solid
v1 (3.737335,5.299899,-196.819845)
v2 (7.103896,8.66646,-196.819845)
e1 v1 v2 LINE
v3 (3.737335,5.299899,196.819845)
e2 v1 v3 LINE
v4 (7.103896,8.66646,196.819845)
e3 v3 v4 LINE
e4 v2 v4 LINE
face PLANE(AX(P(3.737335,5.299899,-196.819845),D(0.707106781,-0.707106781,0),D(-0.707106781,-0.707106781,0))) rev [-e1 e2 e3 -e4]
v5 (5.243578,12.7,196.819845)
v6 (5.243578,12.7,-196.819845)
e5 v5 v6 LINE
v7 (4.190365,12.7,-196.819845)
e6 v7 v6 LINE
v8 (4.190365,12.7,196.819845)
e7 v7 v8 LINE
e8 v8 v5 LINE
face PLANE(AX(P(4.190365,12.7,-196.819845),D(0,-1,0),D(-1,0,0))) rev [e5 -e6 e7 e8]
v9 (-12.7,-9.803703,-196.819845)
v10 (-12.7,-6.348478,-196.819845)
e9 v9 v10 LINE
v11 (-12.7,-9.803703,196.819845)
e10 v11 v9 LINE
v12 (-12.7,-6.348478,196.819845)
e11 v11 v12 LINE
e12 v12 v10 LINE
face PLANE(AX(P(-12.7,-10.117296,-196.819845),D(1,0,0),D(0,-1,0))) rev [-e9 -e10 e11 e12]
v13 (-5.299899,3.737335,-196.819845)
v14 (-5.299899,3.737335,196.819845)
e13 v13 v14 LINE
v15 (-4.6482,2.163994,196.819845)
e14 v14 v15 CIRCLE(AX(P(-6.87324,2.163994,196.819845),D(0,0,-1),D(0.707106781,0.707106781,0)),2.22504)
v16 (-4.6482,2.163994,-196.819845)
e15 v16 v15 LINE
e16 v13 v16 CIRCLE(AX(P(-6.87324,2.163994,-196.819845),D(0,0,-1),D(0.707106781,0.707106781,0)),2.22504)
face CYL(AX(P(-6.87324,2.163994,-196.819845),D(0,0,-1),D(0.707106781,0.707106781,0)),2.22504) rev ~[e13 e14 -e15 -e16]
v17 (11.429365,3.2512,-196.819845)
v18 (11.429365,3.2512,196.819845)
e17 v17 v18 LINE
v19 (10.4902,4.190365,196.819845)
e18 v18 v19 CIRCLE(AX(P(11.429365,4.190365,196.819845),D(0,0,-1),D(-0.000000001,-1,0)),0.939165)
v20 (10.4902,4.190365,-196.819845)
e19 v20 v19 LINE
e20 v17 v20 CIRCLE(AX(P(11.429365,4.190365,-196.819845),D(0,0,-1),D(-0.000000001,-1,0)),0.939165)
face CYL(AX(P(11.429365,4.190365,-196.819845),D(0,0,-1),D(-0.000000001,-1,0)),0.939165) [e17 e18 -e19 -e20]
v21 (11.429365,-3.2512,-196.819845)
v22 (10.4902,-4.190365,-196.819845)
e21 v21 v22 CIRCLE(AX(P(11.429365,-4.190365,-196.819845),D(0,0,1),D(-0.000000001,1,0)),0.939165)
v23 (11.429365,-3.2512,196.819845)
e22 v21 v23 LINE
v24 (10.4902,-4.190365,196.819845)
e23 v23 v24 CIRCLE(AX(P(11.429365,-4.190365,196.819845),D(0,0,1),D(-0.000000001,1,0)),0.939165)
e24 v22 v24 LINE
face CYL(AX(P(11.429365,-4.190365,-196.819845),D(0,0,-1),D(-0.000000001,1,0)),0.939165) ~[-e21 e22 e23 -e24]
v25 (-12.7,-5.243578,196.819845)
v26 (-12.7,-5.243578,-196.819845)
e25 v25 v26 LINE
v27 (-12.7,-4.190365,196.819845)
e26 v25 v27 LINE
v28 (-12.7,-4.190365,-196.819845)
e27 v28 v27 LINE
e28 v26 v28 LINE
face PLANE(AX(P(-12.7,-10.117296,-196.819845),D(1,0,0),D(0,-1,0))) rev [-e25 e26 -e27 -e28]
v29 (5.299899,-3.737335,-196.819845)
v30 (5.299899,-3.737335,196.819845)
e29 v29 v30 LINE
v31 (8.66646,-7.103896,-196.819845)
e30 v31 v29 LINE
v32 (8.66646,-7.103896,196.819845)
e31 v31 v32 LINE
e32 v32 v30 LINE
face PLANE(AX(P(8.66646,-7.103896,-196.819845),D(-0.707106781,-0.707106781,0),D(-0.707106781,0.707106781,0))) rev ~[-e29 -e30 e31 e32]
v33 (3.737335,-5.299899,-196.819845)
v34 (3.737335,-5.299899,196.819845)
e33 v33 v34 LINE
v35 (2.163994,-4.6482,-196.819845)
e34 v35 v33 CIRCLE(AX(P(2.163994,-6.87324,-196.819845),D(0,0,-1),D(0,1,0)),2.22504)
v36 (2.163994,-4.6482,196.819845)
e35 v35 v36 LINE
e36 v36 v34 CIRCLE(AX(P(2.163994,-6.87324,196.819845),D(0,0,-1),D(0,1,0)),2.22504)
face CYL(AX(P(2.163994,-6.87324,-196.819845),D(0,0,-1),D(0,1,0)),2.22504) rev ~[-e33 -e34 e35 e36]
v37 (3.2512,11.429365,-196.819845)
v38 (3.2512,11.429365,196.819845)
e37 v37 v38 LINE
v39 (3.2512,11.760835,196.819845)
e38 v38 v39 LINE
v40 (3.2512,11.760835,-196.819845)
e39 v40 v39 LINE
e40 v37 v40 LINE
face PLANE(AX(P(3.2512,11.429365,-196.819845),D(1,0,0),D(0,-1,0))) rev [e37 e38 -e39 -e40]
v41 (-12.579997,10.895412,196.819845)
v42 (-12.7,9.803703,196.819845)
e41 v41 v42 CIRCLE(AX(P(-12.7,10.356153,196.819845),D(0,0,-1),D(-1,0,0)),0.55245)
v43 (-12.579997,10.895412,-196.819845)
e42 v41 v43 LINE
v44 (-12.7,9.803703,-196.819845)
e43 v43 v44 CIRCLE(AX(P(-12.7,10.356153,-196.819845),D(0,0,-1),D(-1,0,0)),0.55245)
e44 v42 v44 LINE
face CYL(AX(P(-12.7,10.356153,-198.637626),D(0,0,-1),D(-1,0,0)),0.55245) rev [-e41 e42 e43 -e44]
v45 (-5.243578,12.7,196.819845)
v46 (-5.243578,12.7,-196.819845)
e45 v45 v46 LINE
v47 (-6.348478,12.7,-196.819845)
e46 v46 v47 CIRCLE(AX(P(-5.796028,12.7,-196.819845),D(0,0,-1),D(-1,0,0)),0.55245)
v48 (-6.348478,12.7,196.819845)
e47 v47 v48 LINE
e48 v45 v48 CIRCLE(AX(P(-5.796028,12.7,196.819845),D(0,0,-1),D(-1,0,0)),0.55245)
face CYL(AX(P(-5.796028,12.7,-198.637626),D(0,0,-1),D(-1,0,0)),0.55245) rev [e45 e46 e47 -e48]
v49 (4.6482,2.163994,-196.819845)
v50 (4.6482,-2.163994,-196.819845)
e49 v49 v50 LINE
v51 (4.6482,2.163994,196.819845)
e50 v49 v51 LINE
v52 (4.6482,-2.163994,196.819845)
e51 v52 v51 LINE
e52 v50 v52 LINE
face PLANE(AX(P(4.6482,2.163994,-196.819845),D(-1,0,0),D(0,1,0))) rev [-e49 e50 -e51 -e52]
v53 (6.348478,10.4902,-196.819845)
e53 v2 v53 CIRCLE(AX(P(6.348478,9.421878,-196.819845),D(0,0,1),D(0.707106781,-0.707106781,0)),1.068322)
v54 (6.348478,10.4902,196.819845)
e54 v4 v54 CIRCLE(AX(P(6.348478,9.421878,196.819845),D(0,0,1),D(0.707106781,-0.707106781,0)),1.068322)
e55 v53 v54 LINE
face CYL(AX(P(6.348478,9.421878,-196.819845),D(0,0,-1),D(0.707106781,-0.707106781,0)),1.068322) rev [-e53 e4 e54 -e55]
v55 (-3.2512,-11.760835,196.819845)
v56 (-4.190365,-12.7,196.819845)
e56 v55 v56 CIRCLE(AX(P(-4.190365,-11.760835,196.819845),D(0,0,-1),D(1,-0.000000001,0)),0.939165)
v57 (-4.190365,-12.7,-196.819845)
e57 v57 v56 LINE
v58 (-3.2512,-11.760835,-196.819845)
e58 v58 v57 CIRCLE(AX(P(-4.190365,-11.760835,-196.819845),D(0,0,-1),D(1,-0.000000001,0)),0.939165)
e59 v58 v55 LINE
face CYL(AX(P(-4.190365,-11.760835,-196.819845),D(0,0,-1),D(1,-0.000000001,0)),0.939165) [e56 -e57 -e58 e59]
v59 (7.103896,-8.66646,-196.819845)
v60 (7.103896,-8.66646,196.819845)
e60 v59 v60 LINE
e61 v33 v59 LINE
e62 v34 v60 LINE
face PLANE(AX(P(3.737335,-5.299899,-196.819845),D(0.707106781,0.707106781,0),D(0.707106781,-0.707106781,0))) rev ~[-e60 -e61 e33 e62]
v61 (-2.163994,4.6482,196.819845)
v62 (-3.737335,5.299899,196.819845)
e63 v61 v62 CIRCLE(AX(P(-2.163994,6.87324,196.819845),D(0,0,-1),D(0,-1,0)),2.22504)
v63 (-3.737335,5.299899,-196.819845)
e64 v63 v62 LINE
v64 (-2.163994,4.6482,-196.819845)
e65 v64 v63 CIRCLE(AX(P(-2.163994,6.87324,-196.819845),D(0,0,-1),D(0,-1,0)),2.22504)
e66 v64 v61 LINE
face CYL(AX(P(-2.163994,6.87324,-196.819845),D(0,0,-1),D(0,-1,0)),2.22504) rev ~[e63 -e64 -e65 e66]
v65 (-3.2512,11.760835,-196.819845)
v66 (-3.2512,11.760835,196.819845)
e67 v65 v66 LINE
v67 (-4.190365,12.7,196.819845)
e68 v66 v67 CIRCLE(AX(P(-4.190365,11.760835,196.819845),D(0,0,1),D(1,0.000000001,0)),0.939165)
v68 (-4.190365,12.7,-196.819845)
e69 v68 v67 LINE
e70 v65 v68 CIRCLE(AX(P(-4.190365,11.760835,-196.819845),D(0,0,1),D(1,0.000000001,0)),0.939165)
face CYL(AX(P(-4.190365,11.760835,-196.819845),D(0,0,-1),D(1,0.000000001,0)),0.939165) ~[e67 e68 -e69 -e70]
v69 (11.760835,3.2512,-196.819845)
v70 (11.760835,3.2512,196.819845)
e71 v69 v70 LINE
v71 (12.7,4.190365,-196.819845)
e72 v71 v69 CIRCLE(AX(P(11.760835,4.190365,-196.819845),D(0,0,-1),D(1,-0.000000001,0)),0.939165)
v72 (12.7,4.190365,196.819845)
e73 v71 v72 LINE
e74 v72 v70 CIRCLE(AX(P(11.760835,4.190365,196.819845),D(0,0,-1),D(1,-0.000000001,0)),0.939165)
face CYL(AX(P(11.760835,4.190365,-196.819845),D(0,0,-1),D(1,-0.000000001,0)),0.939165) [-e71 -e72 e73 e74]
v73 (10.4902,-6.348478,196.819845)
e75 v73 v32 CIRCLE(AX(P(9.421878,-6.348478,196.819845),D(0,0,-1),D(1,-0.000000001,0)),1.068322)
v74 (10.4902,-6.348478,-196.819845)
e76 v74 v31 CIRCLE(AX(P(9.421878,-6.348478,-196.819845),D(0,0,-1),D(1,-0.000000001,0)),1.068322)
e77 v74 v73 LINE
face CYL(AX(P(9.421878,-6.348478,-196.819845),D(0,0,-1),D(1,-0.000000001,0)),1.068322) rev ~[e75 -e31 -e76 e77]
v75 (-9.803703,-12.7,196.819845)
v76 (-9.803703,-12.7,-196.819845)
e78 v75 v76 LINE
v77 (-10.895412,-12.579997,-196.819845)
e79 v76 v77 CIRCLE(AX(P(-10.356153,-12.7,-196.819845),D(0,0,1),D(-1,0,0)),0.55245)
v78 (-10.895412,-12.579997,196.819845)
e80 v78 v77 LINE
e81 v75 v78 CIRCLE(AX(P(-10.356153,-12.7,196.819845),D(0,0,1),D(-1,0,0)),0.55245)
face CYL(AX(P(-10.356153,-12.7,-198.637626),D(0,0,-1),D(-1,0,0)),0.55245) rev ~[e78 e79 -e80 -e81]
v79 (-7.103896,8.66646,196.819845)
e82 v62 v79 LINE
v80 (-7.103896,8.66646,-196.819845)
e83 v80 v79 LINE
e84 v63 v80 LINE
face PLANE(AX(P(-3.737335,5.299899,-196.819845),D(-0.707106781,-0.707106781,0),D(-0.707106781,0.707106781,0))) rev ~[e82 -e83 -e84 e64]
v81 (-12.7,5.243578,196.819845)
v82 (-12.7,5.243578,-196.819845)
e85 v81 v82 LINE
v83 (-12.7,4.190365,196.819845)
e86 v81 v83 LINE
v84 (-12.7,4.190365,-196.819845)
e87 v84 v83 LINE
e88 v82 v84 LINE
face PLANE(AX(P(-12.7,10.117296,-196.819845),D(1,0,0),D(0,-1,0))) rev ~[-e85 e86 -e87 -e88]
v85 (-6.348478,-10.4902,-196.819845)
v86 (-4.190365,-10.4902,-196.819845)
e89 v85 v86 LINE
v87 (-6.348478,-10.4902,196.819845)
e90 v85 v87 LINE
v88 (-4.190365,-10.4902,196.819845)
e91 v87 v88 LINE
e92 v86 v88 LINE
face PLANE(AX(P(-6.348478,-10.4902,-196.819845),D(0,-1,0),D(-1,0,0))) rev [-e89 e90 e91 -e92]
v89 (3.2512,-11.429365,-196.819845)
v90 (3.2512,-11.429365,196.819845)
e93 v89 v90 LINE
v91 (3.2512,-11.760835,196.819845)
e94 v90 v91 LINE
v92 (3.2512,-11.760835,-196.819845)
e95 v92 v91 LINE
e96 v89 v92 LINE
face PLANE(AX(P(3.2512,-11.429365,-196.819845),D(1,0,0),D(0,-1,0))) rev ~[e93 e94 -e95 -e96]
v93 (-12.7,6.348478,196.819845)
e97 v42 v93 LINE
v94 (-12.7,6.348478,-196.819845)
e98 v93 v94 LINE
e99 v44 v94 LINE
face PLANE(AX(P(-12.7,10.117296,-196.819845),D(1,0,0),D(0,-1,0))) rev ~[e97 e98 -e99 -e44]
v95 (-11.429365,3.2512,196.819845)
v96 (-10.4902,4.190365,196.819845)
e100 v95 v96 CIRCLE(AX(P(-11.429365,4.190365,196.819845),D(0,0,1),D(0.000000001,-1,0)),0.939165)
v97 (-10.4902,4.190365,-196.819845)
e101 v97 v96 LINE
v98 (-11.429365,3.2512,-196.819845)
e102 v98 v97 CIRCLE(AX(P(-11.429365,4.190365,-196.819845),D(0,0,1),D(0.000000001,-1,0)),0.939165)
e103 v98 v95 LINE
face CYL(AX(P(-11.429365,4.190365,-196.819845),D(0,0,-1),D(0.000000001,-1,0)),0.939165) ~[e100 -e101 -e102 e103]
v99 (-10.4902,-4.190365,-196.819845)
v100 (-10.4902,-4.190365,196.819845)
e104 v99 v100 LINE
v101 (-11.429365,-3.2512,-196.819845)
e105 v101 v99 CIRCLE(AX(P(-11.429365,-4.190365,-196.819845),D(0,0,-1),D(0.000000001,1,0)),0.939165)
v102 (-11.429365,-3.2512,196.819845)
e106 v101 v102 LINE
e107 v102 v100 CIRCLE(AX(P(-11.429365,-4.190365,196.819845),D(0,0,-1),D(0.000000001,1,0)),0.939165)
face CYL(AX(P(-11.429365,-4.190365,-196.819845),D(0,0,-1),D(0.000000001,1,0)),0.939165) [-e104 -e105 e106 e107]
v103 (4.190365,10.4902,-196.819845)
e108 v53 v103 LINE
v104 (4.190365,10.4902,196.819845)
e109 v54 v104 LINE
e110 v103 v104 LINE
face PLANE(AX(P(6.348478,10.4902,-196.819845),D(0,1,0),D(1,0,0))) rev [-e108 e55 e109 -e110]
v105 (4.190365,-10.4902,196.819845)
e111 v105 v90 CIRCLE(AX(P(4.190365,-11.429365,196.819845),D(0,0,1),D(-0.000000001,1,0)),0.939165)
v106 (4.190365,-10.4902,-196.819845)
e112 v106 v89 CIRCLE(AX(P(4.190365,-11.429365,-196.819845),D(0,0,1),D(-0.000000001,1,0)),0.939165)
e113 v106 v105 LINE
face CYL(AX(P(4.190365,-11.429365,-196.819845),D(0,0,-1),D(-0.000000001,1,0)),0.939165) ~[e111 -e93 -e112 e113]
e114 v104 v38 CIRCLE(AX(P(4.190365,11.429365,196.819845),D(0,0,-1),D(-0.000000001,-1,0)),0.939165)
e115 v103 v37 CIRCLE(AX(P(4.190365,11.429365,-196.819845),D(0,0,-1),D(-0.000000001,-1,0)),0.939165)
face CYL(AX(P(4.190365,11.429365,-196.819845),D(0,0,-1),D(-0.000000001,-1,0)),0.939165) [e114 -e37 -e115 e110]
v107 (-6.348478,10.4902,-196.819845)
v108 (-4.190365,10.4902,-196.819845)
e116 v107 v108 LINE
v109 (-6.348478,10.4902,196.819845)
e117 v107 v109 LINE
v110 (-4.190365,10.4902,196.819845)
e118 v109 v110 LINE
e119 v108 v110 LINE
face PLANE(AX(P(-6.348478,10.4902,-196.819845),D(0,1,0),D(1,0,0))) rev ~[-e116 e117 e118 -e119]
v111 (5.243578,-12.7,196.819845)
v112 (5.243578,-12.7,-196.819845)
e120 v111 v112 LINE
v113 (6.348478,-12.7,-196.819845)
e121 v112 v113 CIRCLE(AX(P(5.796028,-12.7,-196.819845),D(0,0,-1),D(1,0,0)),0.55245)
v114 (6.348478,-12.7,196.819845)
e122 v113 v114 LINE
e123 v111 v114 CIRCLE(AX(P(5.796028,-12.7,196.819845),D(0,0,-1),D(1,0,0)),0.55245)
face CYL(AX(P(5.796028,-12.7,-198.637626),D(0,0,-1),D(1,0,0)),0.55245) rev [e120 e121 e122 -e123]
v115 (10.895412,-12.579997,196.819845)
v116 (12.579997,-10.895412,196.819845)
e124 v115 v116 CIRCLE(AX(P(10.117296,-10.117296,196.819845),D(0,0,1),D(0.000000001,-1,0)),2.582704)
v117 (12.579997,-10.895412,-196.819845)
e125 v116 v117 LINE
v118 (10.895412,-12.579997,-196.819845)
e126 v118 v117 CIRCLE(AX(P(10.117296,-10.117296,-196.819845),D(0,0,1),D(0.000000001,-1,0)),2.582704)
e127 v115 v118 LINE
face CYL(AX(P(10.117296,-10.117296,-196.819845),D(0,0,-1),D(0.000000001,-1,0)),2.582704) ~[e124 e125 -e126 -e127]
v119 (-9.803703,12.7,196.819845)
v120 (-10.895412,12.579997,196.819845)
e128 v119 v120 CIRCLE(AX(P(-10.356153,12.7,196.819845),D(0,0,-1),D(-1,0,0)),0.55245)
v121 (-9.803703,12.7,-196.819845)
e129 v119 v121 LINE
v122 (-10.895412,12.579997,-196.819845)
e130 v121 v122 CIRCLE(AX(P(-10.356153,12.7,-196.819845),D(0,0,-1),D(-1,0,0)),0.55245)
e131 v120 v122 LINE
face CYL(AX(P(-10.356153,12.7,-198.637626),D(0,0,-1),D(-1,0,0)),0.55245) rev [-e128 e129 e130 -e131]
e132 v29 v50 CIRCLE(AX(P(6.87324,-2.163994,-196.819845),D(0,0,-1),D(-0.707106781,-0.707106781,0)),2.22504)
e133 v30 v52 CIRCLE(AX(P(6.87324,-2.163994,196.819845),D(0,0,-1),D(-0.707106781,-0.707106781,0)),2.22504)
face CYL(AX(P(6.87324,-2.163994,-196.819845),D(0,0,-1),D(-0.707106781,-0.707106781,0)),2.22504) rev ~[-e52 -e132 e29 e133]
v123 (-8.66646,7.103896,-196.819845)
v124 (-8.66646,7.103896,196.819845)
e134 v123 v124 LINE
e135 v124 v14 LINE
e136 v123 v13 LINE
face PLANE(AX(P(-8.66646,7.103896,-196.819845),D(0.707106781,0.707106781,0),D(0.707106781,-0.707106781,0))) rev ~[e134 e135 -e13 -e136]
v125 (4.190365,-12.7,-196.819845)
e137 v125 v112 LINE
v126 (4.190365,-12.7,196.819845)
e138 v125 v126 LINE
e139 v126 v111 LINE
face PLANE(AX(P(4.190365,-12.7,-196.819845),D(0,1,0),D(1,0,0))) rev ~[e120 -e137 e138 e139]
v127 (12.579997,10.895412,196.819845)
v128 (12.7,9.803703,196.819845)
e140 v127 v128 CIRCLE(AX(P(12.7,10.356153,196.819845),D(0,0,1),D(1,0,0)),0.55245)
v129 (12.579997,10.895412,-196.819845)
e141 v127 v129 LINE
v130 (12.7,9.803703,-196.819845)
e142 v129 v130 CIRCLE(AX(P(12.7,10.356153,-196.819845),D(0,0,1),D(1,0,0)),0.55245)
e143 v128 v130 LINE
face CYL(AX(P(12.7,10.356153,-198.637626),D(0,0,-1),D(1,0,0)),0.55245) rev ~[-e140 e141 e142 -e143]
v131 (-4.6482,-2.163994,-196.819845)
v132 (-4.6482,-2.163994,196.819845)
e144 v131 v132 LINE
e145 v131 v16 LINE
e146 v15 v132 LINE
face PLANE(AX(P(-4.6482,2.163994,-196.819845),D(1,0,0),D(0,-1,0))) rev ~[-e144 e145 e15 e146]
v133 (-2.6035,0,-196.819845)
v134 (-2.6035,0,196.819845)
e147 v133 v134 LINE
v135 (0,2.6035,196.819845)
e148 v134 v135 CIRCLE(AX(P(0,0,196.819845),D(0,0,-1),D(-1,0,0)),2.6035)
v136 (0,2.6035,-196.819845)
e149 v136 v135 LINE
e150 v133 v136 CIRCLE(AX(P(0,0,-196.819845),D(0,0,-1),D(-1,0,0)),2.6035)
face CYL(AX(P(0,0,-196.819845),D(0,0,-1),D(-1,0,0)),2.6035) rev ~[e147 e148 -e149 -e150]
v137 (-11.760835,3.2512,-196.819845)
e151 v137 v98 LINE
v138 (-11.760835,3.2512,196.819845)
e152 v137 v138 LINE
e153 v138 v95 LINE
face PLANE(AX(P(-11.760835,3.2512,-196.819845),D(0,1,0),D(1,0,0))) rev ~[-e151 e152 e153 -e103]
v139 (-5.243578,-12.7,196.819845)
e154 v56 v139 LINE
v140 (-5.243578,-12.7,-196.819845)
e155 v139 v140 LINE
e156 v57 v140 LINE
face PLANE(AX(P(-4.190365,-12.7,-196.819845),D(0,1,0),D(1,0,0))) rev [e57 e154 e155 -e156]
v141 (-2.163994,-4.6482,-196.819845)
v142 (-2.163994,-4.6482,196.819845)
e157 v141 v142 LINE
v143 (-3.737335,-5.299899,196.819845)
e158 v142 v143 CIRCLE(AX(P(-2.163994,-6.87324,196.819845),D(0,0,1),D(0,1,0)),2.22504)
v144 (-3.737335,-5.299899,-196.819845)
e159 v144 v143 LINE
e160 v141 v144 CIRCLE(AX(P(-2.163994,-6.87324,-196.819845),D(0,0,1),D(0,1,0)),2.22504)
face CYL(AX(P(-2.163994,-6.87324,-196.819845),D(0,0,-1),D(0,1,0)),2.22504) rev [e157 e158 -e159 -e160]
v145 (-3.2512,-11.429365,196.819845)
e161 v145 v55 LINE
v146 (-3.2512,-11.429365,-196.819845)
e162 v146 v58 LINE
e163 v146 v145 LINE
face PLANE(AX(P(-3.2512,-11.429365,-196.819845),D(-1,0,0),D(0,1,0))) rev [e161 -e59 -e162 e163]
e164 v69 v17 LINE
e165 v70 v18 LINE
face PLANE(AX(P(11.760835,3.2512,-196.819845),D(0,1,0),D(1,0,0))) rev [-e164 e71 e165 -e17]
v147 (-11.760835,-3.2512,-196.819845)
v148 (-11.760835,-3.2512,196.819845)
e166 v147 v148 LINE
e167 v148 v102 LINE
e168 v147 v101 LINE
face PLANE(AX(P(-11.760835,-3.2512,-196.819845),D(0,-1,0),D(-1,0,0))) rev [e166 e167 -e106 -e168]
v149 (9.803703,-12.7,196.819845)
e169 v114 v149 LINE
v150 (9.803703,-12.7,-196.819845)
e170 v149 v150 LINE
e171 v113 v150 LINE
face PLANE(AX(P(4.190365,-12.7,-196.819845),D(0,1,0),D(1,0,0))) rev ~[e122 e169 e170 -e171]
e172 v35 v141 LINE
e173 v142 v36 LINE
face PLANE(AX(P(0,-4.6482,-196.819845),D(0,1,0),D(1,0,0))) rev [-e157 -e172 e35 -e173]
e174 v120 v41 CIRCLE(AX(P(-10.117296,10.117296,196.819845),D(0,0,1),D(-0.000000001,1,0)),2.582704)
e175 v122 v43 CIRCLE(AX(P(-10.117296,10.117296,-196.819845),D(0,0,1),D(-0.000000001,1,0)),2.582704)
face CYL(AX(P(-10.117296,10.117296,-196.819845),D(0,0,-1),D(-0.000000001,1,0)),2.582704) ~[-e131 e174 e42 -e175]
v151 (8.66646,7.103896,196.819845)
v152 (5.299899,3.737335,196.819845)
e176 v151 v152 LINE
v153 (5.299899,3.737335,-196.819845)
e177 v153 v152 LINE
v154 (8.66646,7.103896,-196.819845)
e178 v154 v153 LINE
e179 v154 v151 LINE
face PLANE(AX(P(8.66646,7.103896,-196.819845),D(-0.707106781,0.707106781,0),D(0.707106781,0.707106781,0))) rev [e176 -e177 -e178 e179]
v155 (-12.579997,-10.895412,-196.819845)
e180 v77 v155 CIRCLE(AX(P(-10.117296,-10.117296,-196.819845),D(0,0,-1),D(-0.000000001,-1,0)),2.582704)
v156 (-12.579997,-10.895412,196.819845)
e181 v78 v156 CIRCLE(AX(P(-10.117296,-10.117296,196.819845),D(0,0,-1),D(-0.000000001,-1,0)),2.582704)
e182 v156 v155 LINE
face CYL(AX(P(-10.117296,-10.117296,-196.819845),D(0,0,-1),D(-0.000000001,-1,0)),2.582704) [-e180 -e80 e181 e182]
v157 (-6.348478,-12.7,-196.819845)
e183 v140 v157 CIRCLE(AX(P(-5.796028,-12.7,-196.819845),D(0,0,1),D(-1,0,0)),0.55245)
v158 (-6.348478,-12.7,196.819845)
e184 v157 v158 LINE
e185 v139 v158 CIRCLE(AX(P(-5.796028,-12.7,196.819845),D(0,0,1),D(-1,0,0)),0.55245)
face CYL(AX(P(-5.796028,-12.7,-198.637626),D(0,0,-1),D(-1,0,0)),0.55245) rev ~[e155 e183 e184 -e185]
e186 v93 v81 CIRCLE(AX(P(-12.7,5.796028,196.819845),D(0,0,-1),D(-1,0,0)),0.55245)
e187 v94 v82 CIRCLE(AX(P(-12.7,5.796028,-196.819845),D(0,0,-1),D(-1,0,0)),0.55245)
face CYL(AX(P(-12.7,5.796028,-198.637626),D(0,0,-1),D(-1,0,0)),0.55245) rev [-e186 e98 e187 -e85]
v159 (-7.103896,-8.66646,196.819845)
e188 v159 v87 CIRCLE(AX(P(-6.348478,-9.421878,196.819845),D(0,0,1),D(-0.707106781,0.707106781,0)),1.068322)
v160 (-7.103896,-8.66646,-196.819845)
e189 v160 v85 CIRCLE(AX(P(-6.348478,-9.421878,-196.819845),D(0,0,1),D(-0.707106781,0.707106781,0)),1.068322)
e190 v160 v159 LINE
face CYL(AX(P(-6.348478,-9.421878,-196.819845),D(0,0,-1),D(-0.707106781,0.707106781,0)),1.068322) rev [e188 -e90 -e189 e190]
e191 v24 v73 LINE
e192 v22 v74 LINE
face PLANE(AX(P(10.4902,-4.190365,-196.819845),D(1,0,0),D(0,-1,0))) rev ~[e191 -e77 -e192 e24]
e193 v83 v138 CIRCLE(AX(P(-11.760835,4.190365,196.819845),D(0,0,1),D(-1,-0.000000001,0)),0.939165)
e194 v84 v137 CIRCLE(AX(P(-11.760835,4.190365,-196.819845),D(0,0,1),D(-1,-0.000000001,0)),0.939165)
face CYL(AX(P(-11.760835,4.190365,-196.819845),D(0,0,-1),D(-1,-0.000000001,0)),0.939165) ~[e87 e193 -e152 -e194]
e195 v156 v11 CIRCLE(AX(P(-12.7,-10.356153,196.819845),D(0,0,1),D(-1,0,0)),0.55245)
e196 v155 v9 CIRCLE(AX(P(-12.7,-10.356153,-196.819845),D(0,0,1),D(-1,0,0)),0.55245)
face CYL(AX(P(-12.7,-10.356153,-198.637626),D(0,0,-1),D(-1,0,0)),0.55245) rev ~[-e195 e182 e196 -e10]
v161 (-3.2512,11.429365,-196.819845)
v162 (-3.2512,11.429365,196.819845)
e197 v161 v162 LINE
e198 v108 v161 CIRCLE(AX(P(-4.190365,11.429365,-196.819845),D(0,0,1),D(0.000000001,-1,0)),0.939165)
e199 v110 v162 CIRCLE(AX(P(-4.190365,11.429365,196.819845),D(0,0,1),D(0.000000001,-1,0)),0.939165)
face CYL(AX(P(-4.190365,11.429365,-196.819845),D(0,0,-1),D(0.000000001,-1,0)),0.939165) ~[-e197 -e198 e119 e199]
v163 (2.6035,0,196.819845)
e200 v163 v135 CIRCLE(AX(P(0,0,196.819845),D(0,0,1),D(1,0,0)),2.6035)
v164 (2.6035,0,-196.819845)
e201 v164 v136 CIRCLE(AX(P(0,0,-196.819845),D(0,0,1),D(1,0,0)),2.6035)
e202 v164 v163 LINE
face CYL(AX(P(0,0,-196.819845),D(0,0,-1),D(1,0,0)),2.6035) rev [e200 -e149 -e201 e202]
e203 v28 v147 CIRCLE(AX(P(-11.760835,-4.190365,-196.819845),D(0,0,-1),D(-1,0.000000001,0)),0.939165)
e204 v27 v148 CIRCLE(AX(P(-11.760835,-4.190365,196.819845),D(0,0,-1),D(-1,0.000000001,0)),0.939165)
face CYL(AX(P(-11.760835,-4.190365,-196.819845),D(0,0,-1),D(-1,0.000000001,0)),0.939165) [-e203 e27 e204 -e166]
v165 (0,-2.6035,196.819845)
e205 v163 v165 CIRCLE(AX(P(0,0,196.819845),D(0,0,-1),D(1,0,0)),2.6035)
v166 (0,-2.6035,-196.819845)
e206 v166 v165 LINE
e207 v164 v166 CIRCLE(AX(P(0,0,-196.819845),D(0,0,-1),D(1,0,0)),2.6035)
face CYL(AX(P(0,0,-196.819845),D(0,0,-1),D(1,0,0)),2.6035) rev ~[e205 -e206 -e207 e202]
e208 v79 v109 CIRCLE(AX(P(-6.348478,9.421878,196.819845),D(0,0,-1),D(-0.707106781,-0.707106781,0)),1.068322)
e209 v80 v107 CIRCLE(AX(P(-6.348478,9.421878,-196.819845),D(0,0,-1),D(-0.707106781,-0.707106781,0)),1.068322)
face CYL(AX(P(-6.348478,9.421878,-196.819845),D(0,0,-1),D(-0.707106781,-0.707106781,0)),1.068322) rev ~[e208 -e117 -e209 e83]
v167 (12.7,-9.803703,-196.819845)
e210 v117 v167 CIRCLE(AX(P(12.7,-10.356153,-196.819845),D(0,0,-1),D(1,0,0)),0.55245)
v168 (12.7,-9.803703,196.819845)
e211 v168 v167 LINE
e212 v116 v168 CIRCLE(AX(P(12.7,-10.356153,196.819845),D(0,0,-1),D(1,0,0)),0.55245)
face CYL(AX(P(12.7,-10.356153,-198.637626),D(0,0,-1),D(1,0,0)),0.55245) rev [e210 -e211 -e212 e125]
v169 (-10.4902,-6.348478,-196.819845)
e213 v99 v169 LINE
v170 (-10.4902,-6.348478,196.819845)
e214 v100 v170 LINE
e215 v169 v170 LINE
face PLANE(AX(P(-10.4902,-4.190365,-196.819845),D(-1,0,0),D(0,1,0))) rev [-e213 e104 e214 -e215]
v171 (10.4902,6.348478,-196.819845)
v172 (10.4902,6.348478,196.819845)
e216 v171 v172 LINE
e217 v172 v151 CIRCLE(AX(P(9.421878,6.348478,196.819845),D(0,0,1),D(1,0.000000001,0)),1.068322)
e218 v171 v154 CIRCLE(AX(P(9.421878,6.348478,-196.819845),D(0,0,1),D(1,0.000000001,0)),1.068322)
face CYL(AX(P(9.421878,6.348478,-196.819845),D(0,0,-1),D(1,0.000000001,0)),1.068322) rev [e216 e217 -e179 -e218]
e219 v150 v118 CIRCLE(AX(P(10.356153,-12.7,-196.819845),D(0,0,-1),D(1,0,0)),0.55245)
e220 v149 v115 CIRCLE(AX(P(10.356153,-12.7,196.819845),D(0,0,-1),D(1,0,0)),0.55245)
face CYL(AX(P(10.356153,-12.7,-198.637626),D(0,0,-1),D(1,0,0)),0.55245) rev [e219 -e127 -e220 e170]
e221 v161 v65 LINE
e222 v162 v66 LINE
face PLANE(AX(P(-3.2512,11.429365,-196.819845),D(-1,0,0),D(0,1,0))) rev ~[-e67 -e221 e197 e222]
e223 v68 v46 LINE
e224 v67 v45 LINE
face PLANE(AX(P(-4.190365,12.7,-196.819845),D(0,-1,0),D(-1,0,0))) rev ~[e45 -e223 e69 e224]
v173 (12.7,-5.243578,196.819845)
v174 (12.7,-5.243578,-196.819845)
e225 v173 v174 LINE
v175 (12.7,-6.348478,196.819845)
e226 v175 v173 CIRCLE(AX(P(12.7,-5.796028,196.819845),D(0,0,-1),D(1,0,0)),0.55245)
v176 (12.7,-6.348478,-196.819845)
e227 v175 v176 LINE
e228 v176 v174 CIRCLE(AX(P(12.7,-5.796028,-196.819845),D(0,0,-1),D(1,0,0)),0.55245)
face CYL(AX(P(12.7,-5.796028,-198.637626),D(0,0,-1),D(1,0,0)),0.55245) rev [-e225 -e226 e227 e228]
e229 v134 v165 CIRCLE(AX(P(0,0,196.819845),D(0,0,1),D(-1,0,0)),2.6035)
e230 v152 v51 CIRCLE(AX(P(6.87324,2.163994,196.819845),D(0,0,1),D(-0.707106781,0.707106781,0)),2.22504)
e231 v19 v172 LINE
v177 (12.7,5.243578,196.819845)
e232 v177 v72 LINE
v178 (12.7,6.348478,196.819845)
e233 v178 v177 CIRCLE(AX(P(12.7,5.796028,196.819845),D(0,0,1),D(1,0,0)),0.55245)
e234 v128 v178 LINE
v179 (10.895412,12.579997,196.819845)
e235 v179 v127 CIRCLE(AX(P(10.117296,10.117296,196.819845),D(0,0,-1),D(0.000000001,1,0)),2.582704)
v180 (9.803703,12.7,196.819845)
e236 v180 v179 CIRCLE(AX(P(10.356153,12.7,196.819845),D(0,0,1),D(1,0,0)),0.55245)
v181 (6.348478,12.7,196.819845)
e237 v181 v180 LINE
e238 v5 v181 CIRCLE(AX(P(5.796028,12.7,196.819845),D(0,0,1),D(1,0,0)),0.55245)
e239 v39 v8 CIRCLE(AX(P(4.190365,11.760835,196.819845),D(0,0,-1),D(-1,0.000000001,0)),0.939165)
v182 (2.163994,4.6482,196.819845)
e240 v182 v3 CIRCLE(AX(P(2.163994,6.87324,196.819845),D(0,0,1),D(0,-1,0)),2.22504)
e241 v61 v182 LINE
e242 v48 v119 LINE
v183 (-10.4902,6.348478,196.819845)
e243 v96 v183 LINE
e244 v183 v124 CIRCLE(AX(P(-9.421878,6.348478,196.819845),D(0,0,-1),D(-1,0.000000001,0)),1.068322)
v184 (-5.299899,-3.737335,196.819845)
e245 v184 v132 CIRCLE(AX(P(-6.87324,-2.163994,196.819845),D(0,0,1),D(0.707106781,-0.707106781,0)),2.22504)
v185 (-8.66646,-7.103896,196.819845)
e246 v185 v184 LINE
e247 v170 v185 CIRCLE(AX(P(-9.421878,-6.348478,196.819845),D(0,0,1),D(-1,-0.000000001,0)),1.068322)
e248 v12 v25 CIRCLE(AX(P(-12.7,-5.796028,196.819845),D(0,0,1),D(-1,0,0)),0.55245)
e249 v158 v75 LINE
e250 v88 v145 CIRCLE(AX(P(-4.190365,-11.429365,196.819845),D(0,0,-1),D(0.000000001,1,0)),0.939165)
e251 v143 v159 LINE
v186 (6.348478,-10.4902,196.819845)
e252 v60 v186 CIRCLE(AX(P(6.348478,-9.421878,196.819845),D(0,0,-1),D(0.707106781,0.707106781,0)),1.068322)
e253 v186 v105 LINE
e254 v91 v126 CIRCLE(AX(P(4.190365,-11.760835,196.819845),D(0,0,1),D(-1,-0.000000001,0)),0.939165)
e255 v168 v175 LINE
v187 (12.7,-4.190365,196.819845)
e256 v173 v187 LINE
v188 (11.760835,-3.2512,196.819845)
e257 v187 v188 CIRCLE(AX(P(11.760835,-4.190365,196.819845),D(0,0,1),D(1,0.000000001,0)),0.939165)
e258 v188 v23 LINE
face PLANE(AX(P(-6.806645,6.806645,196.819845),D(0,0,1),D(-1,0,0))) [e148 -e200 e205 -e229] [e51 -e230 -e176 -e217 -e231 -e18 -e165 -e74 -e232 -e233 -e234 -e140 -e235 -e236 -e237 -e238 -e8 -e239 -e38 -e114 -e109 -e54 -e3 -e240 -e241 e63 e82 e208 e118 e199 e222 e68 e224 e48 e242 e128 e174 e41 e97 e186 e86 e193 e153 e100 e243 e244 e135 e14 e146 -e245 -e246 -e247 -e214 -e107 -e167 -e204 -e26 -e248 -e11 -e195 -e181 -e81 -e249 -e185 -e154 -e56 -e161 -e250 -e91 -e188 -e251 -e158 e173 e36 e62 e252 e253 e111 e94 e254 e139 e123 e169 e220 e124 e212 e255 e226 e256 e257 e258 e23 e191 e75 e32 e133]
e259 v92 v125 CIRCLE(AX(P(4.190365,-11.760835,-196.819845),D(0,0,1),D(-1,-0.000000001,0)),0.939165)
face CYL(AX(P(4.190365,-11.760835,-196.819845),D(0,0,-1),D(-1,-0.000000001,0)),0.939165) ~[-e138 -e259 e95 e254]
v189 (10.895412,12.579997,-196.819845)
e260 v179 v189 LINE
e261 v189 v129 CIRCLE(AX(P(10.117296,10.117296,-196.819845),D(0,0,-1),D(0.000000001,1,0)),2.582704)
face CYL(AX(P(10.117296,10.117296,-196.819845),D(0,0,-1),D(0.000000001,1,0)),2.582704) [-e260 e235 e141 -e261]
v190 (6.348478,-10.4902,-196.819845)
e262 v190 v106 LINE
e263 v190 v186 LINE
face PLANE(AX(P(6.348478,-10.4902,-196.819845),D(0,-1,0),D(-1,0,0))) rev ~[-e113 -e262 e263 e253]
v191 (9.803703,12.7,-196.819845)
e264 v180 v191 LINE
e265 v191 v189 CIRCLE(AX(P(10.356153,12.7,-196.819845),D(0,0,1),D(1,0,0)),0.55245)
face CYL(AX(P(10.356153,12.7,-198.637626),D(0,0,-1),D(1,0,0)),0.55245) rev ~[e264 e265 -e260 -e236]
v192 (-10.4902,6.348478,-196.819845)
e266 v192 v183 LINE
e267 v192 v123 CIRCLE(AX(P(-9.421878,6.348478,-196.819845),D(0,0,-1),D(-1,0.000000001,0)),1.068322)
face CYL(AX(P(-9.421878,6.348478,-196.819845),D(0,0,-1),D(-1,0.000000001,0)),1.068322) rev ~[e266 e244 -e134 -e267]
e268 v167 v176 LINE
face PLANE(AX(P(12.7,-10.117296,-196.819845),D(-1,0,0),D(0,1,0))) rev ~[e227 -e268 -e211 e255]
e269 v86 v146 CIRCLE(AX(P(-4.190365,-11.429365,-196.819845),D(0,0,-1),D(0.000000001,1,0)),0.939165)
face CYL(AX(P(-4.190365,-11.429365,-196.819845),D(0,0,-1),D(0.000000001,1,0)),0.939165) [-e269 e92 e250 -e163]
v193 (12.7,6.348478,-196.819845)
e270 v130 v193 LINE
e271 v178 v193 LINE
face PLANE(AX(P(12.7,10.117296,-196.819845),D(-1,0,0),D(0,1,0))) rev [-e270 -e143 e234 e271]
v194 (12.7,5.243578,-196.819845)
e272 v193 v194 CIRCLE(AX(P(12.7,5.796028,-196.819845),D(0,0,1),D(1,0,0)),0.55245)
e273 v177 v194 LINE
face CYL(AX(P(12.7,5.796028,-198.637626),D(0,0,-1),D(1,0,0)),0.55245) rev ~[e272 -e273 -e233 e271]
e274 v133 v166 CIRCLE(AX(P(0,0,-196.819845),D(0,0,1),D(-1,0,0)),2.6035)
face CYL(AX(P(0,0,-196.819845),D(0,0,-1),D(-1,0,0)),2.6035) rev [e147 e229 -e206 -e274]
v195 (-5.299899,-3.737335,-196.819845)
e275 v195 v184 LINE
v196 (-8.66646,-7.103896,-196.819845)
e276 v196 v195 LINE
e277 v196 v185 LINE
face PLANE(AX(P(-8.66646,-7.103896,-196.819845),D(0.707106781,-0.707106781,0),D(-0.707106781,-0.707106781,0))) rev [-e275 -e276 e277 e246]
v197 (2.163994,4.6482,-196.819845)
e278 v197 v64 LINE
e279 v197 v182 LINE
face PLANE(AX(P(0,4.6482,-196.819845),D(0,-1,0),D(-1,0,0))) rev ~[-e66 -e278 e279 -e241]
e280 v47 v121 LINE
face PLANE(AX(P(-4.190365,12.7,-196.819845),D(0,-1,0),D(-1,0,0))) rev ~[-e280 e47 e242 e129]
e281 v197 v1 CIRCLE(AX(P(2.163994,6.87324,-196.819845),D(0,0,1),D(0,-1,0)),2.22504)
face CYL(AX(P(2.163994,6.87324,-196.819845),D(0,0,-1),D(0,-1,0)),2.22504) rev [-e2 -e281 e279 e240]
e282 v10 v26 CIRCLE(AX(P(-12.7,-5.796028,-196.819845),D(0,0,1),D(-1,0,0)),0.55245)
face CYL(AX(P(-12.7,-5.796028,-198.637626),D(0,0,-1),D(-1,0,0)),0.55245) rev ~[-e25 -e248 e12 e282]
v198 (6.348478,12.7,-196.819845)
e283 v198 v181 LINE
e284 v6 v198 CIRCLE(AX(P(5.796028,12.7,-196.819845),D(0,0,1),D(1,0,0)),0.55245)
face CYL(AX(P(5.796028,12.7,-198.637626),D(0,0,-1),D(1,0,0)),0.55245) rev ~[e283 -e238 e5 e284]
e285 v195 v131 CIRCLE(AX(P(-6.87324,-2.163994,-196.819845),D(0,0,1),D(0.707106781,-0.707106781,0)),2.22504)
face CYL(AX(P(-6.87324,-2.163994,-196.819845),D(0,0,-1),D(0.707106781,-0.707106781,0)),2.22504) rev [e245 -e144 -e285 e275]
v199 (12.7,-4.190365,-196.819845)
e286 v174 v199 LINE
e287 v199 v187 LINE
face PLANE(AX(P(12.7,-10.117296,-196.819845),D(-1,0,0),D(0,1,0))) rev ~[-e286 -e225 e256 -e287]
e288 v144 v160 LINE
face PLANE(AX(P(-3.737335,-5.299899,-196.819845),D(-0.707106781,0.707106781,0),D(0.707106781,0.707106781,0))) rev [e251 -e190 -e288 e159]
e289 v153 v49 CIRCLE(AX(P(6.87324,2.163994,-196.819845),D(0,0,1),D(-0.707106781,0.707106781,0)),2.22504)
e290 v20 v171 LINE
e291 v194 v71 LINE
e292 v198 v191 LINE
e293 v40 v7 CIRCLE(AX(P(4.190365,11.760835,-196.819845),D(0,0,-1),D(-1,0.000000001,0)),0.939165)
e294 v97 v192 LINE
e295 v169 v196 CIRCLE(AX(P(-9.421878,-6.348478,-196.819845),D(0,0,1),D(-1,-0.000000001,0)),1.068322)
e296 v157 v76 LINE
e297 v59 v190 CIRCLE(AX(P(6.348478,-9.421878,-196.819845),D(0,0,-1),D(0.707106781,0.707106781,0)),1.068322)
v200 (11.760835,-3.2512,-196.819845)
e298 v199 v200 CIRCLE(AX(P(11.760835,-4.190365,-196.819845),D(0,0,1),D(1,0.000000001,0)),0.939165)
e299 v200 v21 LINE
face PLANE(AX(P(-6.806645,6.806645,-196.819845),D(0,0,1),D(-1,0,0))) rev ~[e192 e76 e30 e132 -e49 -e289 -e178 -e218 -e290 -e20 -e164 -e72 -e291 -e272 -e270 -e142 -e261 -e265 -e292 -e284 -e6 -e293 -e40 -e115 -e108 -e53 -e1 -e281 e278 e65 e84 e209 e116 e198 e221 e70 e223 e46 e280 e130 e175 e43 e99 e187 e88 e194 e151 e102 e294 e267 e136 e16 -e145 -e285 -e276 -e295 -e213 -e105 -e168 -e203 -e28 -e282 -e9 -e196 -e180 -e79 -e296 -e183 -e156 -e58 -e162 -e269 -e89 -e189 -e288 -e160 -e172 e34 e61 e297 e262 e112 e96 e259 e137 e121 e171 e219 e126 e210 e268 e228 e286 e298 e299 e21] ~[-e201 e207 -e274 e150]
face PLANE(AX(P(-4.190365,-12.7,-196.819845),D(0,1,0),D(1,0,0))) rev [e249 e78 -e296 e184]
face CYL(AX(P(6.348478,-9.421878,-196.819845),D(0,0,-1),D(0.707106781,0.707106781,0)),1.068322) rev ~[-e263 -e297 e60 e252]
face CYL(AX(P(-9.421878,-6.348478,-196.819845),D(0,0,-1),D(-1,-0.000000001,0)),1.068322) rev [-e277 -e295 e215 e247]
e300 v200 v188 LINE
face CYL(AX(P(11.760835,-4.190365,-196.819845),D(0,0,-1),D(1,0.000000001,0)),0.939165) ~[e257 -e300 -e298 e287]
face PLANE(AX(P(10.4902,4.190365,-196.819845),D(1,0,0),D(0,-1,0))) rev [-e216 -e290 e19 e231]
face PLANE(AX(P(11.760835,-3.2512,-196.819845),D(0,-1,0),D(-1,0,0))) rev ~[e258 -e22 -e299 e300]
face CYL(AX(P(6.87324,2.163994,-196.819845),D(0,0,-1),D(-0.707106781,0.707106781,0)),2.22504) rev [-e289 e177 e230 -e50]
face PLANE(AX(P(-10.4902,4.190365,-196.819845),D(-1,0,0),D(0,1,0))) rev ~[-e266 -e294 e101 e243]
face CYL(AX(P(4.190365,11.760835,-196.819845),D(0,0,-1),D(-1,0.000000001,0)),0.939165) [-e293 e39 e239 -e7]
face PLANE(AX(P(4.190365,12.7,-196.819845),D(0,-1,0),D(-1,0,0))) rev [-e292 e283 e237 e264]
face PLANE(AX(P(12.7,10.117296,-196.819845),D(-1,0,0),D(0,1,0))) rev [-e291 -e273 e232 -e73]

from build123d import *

# Parameters (mm, degrees)
BOSS_EXTRUDE1_START     = -196.819845
BOSS_EXTRUDE1_DEPTH     = 393.63969
CUT_EXTRUDE1_DEPTH      = 198.637626442
CUT_EXTRUDE1_DEPTH_BACK = 198.637626442
SKETCH5_R               = 0.55245


with BuildPart() as part:
    # Sketch4 → Boss-Extrude1 (new body)
    with BuildSketch(Plane.XY.offset(BOSS_EXTRUDE1_START)):
        with BuildLine():
            Line((4.190365, -12.7), (10.11729625, -12.7))
            ThreePointArc((10.11729625, -12.7), (11.943543585, -11.943543585), (12.7, -10.11729625))
            Line((12.7, -10.11729625), (12.7, -4.190365))
            ThreePointArc((12.7, -4.190365), (12.42492494, -3.52627506), (11.760835, -3.2512))
            Line((11.760835, -3.2512), (11.429365, -3.2512))
            ThreePointArc((11.429365, -3.2512), (10.76527506, -3.52627506), (10.4902, -4.190365))
            Line((10.4902, -4.190365), (10.4902, -6.348478019))
            ThreePointArc((10.4902, -6.348478019), (9.830707141, -7.335478831), (8.666460301, -7.103895736))
            Line((8.666460301, -7.103895736), (5.299899128, -3.737334563))
            ThreePointArc((5.299899128, -3.737334563), (4.817571085, -3.015479634), (4.6482, -2.16399369))
            Line((4.6482, -2.16399369), (4.6482, 0))
            Line((4.6482, 0), (2.6035, 0))
            ThreePointArc((2.6035, 0), (1.840952505, -1.840952505), (0, -2.6035))
            Line((0, -2.6035), (0, -4.6482))
            Line((0, -4.6482), (2.16399369, -4.6482))
            ThreePointArc((2.16399369, -4.6482), (3.015479634, -4.817571085), (3.737334563, -5.299899128))
            Line((3.737334563, -5.299899128), (7.103895736, -8.666460301))
            ThreePointArc((7.103895736, -8.666460301), (7.335478831, -9.830707141), (6.348478019, -10.4902))
            Line((6.348478019, -10.4902), (4.190365, -10.4902))
            ThreePointArc((4.190365, -10.4902), (3.52627506, -10.76527506), (3.2512, -11.429365))
            Line((3.2512, -11.429365), (3.2512, -11.760835))
            ThreePointArc((3.2512, -11.760835), (3.52627506, -12.42492494), (4.190365, -12.7))
        make_face()
    extrude(amount=BOSS_EXTRUDE1_DEPTH)

    # Sketch5 → Cut-Extrude1 (cut, two sides: drawn at the far end of the back side and taken through both)
    with BuildSketch(Plane.XY.offset(-CUT_EXTRUDE1_DEPTH_BACK)):
        with Locations((10.356153152, -12.7)):
            Circle(SKETCH5_R)
        with Locations((5.796028019, -12.7)):
            Circle(SKETCH5_R)
        with Locations((12.7, -10.356153152)):
            Circle(SKETCH5_R)
        with Locations((12.7, -5.796028019)):
            Circle(SKETCH5_R)
    extrude(amount=CUT_EXTRUDE1_DEPTH + CUT_EXTRUDE1_DEPTH_BACK, mode=Mode.SUBTRACT)

    # Mirror1: part across plane


with BuildPart() as part_1:
    add(part.part)
    add(part.part.mirror(Plane(origin=(0, 0, 0), x_dir=(0, 0, 1), z_dir=(1, 0, 0))))

    # Mirror2: part across plane


with BuildPart() as part_2:
    add(part_1.part)
    add(part_1.part.mirror(Plane.ZX))


solid = part_2.part
